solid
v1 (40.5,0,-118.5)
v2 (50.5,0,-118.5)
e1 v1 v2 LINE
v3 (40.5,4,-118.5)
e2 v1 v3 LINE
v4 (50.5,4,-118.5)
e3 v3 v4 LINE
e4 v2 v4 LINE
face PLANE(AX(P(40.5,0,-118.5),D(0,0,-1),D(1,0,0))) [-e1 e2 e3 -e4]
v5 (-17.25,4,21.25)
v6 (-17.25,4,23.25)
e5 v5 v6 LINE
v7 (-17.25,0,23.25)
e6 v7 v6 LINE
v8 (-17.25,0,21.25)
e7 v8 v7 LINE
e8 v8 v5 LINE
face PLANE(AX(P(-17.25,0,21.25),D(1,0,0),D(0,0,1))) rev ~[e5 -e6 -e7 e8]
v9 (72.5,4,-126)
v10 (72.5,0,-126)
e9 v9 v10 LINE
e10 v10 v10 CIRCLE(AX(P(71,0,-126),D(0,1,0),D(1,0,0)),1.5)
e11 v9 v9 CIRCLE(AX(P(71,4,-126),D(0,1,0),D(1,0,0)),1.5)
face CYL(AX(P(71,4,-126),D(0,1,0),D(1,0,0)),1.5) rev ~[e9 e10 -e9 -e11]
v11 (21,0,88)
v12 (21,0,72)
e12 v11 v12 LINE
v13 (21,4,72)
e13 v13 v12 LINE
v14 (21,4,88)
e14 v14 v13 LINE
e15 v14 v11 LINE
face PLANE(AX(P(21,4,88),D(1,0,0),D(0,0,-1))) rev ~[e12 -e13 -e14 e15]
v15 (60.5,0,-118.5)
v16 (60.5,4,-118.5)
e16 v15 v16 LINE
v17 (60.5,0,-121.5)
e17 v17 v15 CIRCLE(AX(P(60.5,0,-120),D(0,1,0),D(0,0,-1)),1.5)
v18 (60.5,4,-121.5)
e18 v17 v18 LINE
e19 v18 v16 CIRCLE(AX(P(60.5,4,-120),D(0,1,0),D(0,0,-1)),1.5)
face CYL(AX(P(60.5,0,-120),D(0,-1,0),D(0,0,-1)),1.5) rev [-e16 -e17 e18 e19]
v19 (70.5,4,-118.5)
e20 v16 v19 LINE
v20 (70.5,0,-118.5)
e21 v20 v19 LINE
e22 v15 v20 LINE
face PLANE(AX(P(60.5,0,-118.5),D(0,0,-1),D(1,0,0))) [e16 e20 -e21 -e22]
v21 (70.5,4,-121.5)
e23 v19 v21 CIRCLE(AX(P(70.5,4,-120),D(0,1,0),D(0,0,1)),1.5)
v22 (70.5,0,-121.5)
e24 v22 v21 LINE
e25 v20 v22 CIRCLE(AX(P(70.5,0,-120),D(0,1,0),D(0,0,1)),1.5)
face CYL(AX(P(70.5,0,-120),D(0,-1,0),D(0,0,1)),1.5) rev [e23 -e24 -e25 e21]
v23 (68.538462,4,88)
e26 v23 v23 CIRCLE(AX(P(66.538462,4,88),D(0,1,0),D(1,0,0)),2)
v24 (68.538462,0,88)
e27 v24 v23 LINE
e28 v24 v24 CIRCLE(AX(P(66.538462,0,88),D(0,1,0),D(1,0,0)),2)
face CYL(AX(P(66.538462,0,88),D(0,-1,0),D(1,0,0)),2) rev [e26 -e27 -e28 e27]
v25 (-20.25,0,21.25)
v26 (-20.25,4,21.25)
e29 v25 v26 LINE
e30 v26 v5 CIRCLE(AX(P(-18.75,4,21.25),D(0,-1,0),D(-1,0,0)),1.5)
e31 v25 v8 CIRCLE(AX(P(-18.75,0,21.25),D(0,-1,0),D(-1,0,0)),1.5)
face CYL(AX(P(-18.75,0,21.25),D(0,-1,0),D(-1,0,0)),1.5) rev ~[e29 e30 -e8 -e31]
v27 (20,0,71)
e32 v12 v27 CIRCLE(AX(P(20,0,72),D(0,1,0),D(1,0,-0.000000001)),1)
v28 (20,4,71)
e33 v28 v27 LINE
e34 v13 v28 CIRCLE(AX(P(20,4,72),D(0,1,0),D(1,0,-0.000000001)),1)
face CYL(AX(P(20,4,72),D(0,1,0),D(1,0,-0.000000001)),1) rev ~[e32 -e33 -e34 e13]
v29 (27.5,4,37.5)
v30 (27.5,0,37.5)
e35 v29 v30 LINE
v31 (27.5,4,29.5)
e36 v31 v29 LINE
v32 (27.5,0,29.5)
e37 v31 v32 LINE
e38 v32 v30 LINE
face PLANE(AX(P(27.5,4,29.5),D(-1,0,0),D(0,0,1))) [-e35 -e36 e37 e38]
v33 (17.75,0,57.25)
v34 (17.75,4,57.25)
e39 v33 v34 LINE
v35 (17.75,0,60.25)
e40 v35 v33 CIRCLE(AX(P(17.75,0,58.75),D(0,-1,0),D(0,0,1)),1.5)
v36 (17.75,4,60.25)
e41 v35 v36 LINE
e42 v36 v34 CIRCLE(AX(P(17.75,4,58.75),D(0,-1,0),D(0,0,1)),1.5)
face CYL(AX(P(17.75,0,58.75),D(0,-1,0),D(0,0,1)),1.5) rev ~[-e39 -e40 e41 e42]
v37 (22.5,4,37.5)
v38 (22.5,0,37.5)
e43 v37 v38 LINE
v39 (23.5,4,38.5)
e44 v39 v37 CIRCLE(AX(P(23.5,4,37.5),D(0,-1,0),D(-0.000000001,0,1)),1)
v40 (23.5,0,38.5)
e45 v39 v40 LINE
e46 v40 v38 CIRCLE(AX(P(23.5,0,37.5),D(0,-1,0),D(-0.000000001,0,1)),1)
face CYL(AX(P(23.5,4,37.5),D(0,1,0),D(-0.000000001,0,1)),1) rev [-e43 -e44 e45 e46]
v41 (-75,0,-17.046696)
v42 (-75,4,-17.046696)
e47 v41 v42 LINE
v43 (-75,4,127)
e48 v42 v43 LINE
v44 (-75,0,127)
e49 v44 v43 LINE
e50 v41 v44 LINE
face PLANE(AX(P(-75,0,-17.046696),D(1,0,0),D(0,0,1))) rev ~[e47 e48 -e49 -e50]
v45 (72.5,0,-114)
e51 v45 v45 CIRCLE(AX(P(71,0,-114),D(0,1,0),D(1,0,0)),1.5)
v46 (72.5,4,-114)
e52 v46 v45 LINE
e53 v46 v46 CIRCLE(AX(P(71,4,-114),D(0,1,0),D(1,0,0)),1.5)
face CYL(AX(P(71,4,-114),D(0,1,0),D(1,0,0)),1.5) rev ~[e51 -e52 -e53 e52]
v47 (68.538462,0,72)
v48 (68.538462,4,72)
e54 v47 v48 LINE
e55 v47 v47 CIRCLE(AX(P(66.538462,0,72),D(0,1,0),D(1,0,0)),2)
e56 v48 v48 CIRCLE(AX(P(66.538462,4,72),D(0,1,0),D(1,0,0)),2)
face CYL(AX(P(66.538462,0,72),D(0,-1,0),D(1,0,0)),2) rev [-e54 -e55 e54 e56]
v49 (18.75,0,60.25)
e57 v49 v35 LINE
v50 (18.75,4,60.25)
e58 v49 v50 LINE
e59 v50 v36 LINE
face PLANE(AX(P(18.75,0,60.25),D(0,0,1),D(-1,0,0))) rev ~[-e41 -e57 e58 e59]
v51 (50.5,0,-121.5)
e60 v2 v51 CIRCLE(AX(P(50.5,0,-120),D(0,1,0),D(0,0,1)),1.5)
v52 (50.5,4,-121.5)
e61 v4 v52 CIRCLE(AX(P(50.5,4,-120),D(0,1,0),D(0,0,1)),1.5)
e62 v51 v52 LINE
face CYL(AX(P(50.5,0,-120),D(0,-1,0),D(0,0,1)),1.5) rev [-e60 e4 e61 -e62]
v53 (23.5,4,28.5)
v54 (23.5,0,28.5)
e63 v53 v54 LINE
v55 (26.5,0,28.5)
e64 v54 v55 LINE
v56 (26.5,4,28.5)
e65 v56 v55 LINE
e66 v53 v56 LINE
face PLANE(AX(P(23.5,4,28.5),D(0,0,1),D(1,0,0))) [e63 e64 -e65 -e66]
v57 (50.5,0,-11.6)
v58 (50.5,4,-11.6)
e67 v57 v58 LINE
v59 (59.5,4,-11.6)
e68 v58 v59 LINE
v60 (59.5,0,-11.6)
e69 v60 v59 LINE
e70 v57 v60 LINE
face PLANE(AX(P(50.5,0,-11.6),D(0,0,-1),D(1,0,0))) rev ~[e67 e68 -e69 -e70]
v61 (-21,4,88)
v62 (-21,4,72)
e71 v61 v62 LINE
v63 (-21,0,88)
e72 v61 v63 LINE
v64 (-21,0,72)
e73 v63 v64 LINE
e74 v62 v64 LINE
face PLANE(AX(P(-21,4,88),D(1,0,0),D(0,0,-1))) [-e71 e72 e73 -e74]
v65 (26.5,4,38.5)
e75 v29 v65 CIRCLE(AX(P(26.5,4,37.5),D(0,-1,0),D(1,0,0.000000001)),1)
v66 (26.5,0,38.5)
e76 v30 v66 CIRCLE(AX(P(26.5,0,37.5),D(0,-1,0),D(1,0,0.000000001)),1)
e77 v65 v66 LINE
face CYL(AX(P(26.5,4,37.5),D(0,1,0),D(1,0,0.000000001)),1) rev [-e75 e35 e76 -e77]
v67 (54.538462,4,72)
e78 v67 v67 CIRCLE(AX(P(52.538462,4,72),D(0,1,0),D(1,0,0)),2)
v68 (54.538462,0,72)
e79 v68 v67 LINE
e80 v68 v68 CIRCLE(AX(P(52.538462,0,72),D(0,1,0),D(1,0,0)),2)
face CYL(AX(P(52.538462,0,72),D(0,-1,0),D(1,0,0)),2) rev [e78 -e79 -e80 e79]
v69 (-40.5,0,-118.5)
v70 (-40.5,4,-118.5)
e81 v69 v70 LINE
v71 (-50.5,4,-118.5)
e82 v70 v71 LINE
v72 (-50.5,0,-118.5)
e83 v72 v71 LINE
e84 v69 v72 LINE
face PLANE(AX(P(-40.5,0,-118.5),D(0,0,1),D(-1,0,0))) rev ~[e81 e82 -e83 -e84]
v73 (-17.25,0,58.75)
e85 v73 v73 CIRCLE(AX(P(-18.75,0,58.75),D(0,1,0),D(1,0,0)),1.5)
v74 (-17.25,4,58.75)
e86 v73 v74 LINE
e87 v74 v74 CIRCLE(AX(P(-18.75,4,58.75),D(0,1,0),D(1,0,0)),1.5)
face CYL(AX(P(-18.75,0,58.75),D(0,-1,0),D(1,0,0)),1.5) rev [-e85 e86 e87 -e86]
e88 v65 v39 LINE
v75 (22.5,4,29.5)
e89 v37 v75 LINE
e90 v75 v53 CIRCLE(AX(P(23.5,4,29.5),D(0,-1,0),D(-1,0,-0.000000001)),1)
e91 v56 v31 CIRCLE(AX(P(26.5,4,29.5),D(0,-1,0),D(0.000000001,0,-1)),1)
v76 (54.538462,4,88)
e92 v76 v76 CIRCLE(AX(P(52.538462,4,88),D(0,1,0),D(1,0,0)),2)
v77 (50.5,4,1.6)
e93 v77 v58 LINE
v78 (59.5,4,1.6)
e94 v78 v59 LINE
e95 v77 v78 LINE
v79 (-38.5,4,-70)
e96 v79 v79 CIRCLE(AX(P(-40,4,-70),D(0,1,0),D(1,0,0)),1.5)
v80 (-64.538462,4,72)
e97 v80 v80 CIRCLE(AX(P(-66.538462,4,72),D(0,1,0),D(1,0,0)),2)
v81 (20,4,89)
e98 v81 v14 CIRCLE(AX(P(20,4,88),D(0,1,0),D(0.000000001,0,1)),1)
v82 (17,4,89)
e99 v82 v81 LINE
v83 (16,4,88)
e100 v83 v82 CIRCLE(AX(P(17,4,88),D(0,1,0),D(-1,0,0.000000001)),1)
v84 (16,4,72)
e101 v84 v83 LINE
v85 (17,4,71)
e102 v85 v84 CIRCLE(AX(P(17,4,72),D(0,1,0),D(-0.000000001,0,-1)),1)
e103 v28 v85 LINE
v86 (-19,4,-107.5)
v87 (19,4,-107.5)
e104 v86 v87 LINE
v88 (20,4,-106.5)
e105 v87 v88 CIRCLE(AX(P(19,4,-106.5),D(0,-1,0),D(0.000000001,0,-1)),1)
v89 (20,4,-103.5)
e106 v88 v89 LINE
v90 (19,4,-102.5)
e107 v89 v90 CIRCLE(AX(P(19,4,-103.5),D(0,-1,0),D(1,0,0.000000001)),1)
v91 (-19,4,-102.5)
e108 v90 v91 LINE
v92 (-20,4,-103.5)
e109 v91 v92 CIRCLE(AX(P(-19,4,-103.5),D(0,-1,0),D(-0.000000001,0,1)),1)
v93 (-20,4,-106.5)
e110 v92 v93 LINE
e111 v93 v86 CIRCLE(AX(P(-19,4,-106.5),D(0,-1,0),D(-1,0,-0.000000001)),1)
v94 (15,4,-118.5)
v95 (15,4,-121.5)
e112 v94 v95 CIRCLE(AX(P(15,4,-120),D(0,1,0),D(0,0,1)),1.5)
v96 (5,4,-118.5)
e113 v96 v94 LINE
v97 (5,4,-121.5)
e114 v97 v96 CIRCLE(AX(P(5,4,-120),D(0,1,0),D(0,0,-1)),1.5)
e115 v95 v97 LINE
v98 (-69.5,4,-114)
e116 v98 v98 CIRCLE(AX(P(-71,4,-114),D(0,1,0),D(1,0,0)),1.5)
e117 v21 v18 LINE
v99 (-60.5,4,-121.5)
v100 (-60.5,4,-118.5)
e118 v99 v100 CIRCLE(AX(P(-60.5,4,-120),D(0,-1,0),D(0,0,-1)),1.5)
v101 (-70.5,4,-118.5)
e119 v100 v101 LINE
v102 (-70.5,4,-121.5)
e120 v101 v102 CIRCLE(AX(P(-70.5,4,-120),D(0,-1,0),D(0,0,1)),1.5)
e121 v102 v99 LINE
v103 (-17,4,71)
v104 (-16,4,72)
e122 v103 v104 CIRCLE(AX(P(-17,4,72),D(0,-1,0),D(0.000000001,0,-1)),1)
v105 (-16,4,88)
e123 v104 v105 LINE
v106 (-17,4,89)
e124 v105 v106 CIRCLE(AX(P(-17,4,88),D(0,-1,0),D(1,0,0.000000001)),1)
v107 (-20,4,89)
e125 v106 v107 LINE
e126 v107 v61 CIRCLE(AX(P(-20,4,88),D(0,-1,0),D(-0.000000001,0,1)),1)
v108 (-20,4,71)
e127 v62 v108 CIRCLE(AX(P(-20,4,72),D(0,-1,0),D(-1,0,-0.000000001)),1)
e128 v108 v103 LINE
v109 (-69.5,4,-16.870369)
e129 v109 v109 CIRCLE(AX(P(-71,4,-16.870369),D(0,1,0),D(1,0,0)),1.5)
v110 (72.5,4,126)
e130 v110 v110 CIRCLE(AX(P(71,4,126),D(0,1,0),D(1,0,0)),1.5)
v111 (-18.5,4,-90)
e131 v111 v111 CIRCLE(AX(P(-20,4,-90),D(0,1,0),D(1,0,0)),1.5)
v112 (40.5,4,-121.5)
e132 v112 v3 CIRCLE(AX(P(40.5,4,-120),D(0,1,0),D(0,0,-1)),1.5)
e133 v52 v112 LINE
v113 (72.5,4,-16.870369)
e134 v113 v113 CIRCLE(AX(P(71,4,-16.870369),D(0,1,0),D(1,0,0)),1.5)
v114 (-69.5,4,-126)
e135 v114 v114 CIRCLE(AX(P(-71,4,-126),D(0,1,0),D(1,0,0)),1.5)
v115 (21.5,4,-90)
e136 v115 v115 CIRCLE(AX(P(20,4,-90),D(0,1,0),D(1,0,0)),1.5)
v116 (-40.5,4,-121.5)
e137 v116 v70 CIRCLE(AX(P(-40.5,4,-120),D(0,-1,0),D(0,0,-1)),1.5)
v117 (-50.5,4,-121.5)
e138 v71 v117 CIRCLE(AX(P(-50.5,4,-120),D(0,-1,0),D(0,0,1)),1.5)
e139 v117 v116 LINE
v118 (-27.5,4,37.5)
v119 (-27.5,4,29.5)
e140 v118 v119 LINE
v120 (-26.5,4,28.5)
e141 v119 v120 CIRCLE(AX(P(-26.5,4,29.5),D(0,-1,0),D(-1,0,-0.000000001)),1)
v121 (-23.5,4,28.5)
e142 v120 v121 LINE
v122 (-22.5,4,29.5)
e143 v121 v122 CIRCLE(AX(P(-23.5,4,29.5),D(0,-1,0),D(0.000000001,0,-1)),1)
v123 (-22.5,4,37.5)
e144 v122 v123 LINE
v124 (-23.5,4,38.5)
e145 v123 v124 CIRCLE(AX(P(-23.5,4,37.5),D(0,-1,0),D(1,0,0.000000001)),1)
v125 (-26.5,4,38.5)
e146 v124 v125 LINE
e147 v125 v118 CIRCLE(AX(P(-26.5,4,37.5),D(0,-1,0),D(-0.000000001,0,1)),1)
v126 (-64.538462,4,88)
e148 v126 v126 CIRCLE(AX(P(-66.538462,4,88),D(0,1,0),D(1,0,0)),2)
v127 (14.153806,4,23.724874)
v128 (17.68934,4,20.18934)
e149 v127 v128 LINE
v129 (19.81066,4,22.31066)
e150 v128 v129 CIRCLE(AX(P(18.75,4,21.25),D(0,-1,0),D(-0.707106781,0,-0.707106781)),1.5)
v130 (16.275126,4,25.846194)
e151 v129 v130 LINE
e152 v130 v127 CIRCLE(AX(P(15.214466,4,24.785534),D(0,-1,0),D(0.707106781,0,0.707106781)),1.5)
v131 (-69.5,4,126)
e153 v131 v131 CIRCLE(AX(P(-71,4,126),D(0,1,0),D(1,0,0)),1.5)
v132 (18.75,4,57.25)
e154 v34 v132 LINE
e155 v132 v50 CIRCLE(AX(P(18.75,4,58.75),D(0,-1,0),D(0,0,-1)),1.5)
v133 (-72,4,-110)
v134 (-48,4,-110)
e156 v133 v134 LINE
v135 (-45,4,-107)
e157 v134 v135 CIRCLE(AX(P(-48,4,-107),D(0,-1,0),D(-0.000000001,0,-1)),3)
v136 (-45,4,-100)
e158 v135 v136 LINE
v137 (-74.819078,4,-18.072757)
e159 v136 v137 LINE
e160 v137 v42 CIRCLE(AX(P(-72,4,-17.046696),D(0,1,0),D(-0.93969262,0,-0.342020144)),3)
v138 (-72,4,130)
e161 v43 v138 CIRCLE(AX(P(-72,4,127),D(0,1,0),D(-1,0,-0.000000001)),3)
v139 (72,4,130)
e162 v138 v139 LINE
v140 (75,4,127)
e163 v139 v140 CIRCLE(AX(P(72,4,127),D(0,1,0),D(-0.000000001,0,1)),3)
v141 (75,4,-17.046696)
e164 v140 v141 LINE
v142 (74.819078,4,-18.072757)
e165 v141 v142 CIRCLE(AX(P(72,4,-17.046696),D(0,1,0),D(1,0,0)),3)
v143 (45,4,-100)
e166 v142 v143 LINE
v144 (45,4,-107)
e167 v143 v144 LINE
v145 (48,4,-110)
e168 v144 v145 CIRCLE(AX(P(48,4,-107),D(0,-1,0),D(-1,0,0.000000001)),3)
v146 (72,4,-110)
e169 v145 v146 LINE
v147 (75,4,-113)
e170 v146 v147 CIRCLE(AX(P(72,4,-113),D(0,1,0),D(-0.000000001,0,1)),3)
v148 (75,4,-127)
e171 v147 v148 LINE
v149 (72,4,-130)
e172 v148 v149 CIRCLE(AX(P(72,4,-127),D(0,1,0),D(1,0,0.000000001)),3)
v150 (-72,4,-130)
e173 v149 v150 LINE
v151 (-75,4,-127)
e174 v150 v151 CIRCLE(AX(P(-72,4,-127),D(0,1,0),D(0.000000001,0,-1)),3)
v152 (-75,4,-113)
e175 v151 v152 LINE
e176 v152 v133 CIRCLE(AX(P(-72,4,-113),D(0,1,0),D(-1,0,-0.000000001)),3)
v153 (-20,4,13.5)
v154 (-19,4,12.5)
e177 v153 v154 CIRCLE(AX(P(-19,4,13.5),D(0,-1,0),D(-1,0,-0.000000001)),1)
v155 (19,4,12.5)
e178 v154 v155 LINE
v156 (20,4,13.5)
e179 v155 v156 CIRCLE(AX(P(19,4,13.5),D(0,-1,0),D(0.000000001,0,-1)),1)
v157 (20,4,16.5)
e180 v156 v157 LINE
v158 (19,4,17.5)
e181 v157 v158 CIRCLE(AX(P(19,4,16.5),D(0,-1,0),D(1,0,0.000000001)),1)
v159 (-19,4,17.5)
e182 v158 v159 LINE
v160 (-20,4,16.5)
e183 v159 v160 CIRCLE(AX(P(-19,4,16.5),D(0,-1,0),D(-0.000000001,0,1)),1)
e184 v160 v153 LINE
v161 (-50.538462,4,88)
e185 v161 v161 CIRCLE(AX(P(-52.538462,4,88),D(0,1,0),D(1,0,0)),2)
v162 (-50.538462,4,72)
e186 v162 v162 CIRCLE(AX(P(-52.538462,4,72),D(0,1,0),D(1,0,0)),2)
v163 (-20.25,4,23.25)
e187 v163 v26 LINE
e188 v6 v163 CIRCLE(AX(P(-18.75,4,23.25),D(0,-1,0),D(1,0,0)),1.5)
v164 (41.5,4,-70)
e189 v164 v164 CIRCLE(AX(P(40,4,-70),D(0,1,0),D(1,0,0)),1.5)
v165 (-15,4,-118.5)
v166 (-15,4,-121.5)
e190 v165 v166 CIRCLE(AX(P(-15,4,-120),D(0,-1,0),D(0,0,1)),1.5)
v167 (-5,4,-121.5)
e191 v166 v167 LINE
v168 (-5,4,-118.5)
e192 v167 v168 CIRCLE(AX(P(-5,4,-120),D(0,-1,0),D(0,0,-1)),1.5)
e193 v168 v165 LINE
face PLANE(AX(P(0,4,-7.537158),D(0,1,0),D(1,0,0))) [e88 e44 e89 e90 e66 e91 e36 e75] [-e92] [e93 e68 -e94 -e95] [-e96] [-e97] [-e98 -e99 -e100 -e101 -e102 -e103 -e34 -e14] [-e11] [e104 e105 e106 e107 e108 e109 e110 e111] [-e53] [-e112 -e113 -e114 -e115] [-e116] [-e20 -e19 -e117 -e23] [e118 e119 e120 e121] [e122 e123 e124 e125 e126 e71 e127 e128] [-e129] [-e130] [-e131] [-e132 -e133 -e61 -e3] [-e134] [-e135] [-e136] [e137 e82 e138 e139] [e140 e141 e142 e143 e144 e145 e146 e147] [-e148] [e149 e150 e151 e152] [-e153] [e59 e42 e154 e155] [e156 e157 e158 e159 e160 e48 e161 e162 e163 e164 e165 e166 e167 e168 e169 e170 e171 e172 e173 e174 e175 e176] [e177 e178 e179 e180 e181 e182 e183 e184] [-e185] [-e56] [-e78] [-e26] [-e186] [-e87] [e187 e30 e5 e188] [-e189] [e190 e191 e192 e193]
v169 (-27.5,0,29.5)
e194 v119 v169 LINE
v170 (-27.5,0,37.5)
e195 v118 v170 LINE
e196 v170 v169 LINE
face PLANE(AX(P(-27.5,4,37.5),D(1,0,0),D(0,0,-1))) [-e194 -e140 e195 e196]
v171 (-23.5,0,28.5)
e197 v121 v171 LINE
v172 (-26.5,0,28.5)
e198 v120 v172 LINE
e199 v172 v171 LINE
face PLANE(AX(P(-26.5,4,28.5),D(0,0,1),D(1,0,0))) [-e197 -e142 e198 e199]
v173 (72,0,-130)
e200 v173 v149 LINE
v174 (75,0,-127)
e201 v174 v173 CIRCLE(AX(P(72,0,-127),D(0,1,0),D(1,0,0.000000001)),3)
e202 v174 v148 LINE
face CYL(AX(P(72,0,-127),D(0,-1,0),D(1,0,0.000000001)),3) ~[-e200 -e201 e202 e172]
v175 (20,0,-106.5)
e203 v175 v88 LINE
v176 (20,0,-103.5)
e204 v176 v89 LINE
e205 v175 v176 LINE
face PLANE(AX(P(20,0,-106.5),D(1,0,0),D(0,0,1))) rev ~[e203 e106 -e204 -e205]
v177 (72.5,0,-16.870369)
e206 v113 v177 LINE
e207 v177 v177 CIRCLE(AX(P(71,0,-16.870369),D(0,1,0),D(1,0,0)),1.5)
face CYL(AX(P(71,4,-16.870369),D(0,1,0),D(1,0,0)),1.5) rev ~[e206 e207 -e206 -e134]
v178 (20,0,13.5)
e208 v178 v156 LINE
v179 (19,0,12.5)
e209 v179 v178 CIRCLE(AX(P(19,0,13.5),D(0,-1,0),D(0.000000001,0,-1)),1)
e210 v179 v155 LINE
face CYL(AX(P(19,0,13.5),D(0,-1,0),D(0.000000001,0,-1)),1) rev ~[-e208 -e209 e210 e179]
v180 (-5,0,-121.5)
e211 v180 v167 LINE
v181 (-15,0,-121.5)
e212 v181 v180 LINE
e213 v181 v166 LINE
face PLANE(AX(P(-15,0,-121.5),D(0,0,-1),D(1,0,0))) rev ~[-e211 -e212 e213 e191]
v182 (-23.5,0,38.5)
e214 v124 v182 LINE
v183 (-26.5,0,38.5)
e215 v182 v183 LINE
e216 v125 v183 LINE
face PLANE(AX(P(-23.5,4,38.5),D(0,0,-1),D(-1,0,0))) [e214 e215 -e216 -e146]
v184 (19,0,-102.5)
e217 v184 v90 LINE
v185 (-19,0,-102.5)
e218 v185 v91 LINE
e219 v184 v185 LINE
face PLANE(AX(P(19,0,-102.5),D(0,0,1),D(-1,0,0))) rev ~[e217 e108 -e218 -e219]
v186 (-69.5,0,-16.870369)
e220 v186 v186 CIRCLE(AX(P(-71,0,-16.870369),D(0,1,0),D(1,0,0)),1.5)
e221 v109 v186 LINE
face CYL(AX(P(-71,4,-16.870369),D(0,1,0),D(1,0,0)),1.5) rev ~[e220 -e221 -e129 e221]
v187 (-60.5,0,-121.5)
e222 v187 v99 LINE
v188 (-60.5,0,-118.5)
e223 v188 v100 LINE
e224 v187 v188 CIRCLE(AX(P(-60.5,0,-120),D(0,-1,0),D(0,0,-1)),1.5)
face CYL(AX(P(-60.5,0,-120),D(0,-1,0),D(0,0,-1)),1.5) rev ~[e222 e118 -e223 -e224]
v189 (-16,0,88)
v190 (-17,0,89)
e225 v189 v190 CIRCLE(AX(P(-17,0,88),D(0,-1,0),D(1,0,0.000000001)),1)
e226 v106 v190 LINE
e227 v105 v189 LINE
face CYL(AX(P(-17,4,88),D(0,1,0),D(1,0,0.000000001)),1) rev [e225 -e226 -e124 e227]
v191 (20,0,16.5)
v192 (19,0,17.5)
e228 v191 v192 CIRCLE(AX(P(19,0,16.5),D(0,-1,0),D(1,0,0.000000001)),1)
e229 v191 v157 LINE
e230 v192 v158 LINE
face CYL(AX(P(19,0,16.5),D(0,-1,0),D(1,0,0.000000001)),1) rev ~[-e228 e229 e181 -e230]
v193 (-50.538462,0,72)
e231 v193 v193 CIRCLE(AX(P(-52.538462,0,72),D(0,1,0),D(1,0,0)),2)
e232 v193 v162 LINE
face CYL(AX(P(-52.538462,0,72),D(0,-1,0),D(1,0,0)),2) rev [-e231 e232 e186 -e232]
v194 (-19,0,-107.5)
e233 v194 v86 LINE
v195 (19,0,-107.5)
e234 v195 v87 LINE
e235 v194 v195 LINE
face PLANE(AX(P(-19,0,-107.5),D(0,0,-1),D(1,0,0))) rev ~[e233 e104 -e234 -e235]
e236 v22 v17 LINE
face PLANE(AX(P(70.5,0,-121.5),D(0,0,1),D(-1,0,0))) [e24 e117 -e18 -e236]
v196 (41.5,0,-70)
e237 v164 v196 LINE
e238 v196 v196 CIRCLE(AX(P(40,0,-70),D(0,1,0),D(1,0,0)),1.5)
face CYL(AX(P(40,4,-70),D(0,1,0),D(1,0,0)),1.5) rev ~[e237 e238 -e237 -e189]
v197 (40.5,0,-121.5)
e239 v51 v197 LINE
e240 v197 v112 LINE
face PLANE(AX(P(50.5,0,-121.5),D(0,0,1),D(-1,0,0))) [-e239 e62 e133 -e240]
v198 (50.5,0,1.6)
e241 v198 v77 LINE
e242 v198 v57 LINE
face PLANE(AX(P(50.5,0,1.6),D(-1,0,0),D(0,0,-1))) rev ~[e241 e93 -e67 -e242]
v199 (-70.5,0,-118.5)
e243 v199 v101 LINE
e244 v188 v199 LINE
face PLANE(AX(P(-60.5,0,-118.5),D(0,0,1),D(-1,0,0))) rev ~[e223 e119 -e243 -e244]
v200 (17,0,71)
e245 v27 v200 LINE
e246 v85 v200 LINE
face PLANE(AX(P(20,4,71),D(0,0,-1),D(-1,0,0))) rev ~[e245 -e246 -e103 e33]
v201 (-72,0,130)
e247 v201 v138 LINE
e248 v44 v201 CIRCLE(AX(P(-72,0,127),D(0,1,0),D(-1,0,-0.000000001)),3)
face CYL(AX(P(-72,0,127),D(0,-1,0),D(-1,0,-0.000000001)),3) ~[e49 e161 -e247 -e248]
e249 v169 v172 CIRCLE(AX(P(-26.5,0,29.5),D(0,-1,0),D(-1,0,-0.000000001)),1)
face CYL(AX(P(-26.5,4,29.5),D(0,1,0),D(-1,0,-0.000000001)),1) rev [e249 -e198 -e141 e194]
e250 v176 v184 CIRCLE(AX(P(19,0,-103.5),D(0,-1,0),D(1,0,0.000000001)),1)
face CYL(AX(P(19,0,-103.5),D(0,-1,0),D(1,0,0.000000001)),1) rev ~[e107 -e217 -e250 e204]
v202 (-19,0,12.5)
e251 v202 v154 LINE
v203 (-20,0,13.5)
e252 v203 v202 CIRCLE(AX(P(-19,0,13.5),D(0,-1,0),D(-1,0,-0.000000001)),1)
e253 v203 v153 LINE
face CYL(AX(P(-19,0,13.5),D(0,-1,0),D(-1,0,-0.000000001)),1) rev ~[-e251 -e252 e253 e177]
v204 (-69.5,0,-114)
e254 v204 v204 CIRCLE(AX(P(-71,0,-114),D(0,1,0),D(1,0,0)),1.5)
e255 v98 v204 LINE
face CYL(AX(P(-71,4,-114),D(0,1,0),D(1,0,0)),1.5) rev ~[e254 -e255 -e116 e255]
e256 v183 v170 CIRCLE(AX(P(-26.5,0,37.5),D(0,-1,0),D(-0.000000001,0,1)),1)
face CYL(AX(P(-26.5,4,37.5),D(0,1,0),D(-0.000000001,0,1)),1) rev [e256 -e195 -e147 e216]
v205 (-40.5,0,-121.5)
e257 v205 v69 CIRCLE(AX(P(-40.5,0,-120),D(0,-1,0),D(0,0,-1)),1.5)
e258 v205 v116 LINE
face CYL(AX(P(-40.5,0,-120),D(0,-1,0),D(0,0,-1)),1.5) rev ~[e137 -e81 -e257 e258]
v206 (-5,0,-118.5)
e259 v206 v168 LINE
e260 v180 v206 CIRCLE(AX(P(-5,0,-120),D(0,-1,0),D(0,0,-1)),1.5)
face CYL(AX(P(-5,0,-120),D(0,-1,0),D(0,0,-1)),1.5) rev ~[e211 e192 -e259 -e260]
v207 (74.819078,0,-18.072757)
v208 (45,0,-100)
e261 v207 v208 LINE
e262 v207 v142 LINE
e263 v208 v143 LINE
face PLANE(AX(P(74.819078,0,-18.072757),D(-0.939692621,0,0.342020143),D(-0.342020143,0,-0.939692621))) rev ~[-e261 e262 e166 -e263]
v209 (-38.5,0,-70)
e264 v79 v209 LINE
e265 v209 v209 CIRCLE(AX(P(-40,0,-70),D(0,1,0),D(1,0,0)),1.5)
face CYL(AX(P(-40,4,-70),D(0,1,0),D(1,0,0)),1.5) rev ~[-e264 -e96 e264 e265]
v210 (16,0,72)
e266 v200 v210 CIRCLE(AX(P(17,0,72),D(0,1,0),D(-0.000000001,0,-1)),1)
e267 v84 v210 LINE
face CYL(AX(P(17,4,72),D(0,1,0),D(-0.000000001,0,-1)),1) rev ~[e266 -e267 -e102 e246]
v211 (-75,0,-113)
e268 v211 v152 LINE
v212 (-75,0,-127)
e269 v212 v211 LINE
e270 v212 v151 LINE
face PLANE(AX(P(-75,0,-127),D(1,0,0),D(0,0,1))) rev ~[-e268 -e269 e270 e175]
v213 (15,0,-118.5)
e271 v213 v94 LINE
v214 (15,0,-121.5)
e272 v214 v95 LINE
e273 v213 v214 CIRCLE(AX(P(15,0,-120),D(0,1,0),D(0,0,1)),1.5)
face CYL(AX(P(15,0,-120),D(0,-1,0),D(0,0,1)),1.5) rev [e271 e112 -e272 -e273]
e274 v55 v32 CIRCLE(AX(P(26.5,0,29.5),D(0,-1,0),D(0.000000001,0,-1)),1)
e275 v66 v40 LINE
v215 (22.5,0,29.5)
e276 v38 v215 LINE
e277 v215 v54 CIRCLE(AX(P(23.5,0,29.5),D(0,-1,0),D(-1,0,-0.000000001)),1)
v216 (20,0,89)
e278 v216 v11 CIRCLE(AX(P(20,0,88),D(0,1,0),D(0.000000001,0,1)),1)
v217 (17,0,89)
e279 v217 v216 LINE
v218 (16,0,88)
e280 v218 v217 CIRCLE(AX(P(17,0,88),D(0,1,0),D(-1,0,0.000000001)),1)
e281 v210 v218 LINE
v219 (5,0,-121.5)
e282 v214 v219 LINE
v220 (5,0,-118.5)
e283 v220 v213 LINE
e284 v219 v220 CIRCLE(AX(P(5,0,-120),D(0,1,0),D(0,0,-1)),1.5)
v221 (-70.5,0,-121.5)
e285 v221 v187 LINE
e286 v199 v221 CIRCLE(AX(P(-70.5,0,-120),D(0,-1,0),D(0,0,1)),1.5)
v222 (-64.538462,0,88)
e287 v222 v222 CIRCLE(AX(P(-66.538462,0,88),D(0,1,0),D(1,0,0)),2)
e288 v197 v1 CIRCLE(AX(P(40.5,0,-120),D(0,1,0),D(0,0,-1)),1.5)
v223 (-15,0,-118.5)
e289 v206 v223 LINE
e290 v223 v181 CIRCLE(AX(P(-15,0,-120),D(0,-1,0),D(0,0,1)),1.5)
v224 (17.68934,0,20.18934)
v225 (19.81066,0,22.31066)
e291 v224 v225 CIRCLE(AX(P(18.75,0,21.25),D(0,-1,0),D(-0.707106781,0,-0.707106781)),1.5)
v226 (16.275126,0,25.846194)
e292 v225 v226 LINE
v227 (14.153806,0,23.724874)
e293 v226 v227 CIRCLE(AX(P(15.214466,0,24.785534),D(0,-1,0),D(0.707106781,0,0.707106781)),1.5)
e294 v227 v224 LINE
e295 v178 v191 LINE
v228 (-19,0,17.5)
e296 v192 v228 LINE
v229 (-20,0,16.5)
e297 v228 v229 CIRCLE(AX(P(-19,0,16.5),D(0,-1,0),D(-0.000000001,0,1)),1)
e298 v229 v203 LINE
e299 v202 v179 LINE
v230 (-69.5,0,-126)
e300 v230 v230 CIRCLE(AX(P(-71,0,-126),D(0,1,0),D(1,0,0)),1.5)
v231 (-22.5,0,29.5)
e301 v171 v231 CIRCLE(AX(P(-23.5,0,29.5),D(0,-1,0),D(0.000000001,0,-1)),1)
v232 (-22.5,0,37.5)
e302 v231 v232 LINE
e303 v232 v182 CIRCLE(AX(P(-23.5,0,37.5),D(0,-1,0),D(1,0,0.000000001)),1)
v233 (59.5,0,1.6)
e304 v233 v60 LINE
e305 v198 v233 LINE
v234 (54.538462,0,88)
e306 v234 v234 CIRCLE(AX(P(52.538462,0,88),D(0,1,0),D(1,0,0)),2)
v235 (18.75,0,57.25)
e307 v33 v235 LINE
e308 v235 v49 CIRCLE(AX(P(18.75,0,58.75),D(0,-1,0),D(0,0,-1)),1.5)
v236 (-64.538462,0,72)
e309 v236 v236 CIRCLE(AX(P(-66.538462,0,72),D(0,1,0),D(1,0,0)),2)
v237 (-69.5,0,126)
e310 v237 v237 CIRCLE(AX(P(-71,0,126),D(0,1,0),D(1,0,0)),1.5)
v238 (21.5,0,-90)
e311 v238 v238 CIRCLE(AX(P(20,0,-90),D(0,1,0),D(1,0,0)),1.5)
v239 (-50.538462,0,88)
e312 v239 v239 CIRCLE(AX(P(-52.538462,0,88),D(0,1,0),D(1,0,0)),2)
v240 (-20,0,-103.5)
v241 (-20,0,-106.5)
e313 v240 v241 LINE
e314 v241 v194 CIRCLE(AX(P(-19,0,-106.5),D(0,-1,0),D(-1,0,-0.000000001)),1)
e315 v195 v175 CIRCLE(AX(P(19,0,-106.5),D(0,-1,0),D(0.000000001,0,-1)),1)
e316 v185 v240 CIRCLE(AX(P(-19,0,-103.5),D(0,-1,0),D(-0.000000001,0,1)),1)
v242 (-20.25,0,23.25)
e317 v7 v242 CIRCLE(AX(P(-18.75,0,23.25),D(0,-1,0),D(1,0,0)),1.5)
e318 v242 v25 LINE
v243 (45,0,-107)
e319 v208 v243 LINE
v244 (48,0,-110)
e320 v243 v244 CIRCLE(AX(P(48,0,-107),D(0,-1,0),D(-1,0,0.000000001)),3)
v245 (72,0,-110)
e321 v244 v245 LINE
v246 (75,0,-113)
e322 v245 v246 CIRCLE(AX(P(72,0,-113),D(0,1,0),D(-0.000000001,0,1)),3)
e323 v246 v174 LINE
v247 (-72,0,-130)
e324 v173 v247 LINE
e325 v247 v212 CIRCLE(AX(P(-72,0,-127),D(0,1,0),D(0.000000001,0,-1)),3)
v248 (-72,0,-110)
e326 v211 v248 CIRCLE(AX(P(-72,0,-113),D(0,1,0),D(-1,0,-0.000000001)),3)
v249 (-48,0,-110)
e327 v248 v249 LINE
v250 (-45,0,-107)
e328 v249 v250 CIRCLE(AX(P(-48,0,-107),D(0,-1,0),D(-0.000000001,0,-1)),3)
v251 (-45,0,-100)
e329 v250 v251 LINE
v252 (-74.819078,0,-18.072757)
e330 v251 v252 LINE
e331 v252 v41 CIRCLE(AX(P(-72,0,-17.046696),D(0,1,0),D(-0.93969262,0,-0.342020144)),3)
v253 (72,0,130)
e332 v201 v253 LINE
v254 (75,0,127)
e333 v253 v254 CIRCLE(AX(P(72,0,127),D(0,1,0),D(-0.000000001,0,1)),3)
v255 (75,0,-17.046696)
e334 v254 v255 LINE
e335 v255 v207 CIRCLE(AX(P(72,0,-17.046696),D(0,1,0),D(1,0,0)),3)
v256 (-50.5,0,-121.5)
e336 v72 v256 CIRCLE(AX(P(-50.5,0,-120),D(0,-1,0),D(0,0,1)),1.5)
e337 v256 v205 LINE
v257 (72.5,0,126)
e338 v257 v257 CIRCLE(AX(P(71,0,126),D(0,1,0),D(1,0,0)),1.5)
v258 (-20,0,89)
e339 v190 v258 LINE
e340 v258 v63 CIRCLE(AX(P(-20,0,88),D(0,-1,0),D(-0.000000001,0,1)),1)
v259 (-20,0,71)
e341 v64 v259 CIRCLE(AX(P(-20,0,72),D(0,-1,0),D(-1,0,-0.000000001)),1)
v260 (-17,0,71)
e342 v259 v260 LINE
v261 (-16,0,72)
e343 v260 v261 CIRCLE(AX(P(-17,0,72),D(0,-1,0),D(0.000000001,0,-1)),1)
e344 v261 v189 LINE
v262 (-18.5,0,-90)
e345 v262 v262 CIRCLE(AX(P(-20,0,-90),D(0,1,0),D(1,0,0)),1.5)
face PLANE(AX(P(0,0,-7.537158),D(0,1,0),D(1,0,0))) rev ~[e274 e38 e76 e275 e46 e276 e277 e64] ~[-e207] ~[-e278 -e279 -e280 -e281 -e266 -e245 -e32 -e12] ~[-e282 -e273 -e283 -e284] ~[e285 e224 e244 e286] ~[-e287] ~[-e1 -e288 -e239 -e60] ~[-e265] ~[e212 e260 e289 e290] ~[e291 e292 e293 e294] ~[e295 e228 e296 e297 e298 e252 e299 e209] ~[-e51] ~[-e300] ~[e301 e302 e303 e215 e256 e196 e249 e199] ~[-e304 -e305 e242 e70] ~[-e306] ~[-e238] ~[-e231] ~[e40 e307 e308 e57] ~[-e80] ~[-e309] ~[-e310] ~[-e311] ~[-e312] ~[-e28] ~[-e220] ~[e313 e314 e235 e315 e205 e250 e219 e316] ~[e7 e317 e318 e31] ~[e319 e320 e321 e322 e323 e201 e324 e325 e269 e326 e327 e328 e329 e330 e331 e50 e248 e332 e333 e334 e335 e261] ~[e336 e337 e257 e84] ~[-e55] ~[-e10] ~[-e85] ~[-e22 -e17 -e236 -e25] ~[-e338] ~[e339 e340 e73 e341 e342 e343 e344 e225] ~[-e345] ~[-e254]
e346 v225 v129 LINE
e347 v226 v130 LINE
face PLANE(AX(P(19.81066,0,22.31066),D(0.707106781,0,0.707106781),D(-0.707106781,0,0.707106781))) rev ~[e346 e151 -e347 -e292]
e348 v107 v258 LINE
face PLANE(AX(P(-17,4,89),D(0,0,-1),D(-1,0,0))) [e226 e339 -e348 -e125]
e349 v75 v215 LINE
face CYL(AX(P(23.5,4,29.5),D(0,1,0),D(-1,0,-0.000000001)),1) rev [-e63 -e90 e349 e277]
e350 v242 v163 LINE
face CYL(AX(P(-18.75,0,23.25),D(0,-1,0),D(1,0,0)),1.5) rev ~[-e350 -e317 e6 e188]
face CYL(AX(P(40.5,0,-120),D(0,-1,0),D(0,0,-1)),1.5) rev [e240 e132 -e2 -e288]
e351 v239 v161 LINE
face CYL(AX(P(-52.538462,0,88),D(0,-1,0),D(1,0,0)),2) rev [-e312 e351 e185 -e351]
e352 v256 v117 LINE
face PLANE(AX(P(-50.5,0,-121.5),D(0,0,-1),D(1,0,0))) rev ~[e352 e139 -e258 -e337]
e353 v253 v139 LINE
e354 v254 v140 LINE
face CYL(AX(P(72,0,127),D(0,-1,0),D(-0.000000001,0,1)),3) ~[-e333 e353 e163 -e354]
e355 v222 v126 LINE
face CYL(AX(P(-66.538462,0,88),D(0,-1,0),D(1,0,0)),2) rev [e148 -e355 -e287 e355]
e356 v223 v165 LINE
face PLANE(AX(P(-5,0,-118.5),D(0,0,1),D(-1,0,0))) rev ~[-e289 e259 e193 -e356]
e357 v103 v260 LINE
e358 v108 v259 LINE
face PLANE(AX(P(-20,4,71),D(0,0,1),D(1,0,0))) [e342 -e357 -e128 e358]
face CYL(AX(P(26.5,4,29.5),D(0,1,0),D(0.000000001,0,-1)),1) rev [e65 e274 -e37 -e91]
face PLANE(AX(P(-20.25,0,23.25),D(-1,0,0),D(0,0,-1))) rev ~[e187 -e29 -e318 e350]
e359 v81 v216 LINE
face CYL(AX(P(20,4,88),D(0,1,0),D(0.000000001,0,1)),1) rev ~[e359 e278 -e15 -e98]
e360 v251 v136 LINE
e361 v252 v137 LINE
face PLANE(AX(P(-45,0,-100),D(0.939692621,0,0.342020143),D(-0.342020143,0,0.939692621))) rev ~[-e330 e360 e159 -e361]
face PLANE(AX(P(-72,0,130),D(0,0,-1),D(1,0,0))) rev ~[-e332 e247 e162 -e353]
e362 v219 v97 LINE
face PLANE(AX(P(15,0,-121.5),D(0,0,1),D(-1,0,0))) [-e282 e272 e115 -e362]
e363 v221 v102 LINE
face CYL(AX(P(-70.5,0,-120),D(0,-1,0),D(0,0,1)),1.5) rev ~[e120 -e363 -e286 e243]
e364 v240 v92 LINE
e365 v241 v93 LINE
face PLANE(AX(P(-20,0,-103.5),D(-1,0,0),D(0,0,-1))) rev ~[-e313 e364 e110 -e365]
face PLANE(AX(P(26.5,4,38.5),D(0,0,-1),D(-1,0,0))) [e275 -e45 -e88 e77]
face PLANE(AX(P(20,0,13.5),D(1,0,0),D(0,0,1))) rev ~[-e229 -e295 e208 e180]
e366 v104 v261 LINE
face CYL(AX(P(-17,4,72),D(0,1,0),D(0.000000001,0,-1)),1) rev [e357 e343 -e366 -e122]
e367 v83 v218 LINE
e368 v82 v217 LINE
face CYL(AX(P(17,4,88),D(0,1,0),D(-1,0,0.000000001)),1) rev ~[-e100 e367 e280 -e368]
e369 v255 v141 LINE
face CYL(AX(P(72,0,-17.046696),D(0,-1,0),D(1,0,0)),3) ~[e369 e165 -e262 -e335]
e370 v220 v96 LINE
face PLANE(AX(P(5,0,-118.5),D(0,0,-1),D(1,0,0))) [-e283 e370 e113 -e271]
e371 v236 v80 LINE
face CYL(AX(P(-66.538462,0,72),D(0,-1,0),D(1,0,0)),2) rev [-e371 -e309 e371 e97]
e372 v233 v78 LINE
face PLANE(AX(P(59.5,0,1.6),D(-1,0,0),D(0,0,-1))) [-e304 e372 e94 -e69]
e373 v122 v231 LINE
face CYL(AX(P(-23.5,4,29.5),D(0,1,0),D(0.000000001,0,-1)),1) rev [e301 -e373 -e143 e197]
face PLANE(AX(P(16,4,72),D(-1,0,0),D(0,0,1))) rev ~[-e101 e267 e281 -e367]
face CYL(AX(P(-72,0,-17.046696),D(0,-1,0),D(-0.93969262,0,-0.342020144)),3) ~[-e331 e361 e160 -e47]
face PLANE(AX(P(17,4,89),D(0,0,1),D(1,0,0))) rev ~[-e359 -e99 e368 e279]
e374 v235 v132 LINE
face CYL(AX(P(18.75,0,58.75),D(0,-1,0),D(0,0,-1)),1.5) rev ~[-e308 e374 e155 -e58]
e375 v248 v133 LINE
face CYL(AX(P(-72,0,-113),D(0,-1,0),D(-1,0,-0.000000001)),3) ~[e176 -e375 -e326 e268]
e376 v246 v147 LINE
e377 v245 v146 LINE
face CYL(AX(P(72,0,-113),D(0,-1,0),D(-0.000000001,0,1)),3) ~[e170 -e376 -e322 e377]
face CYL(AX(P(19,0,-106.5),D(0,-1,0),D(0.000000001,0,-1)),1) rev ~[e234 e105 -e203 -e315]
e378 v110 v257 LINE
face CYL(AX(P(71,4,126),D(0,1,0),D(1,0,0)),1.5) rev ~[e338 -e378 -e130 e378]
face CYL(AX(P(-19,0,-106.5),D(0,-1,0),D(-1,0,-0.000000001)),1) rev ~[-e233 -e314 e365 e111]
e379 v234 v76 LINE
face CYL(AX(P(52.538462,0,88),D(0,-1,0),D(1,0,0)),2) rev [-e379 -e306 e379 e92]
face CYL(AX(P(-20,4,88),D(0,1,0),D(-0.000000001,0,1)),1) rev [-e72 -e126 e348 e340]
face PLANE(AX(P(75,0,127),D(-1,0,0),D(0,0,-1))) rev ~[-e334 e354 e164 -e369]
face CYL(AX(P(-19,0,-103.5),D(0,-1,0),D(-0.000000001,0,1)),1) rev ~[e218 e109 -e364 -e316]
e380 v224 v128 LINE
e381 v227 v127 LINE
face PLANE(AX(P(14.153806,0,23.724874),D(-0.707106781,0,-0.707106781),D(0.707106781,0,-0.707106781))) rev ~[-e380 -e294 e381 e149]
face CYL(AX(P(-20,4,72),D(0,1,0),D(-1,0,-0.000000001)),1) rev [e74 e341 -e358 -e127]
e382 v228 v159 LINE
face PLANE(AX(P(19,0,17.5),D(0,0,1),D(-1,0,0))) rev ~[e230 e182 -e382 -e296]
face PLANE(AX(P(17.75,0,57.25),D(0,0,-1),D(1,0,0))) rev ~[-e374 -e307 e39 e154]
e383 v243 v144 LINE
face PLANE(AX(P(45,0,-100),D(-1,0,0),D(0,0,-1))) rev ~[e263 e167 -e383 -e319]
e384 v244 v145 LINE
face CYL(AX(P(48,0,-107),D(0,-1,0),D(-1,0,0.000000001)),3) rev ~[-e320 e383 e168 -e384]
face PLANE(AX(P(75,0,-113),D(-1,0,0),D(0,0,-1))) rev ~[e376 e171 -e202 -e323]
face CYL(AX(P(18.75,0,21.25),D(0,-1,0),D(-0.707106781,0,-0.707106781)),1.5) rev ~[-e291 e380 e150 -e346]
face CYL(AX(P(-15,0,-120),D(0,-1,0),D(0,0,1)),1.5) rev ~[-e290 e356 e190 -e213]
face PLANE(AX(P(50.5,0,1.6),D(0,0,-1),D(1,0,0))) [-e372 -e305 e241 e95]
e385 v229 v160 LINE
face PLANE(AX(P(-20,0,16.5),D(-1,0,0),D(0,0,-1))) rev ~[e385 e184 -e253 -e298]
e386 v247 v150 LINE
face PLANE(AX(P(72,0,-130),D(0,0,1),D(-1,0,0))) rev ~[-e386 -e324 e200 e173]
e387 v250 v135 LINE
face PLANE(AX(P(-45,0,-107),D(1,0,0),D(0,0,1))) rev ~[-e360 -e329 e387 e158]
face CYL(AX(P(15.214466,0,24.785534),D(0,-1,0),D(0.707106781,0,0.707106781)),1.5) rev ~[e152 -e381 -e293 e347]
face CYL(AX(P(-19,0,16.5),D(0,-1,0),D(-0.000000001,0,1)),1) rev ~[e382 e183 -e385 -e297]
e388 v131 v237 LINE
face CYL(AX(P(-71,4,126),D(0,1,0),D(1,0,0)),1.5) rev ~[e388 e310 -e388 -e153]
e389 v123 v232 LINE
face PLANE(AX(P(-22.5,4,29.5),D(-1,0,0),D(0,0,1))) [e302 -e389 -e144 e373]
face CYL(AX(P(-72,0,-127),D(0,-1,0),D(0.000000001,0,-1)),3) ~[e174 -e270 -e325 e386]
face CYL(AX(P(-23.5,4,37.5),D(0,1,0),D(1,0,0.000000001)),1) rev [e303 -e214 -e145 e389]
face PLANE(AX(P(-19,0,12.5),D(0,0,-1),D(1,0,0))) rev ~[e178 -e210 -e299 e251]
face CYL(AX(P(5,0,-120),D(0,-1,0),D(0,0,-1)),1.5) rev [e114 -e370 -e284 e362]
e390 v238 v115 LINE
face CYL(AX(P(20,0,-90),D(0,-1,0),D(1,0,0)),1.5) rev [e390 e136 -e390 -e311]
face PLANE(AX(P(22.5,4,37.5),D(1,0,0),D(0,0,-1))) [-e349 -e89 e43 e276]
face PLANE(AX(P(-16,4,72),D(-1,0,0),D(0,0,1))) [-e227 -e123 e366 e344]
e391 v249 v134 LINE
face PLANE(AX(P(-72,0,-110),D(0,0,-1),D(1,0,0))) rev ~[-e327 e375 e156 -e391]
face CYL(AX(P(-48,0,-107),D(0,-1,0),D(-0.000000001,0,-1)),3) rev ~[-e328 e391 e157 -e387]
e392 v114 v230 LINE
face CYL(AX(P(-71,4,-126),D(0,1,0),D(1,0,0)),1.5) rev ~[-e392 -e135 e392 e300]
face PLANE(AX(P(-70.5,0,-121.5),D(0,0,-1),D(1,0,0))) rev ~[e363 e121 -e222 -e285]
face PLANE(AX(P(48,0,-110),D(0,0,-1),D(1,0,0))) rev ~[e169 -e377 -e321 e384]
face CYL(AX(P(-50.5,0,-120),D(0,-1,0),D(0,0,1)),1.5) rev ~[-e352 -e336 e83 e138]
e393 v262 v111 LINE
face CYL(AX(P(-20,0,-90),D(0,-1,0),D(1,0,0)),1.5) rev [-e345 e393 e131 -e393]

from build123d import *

# Parameters (mm, degrees)
SKETCH1_R           = 1.5
SKETCH1_R_2         = 2
SKETCH1_W           = 9
SKETCH1_H           = 13.2
BOSS_EXTRUDE1_DEPTH = 4
SKETCH2_R           = 1.5
CUT_EXTRUDE1_DEPTH  = 4


with BuildPart() as part:
    # Sketch1 → Boss-Extrude1 (new body)
    with BuildSketch(Plane(origin=(0, 0, 0), x_dir=(1, 0, 0), z_dir=(0, 1, 0))):
        with BuildLine():
            Line((-72, 110), (-48, 110))
            ThreePointArc((-48, 110), (-45.878679656, 109.121320344), (-45, 107))
            Line((-45, 107), (-45, 100))
            Line((-45, 100), (-74.819077862, 18.072756904))
            ThreePointArc((-74.819077862, 18.072756904), (-74.954423259, 17.567641007), (-75, 17.046696474))
            Line((-75, 17.046696474), (-75, -127))
            ThreePointArc((-75, -127), (-74.121320344, -129.121320344), (-72, -130))
            Line((-72, -130), (72, -130))
            ThreePointArc((72, -130), (74.121320344, -129.121320344), (75, -127))
            Line((75, -127), (75, 17.046696474))
            ThreePointArc((75, 17.046696474), (74.954423259, 17.567641007), (74.819077862, 18.072756904))
            Line((74.819077862, 18.072756904), (45, 100))
            Line((45, 100), (45, 107))
            ThreePointArc((45, 107), (45.878679656, 109.121320344), (48, 110))
            Line((48, 110), (72, 110))
            ThreePointArc((72, 110), (74.121320344, 110.878679656), (75, 113))
            Line((75, 113), (75, 127))
            ThreePointArc((75, 127), (74.121320344, 129.121320344), (72, 130))
            Line((72, 130), (-72, 130))
            ThreePointArc((-72, 130), (-74.121320344, 129.121320344), (-75, 127))
            Line((-75, 127), (-75, 113))
            ThreePointArc((-75, 113), (-74.121320344, 110.878679656), (-72, 110))
        make_face()
        with Locations((20, 90)):
            Circle(SKETCH1_R, mode=Mode.SUBTRACT)
        with Locations((-20, 90)):
            Circle(SKETCH1_R, mode=Mode.SUBTRACT)
        with Locations((-66.538461538, -72)):
            Circle(SKETCH1_R_2, mode=Mode.SUBTRACT)
        with Locations((-66.538461538, -88)):
            Circle(SKETCH1_R_2, mode=Mode.SUBTRACT)
        with Locations((-52.538461538, -72)):
            Circle(SKETCH1_R_2, mode=Mode.SUBTRACT)
        with Locations((-52.538461538, -88)):
            Circle(SKETCH1_R_2, mode=Mode.SUBTRACT)
        with Locations((52.538461538, -88)):
            Circle(SKETCH1_R_2, mode=Mode.SUBTRACT)
        with Locations((66.538461538, -88)):
            Circle(SKETCH1_R_2, mode=Mode.SUBTRACT)
        with Locations((66.538461538, -72)):
            Circle(SKETCH1_R_2, mode=Mode.SUBTRACT)
        with Locations((52.538461538, -72)):
            Circle(SKETCH1_R_2, mode=Mode.SUBTRACT)
        with Locations((-18.75, -58.75)):
            Circle(SKETCH1_R, mode=Mode.SUBTRACT)
        with BuildLine():
            Line((-70.5, 121.5), (-60.5, 121.5))
            ThreePointArc((-60.5, 121.5), (-59, 120), (-60.5, 118.5))
            Line((-60.5, 118.5), (-70.5, 118.5))
            ThreePointArc((-70.5, 118.5), (-72, 120), (-70.5, 121.5))
        make_face(mode=Mode.SUBTRACT)
        with BuildLine():
            Line((-19, -12.5), (19, -12.5))
            ThreePointArc((19, -12.5), (19.707106781, -12.792893219), (20, -13.5))
            Line((20, -13.5), (20, -16.5))
            ThreePointArc((20, -16.5), (19.707106781, -17.207106781), (19, -17.5))
            Line((19, -17.5), (-19, -17.5))
            ThreePointArc((-19, -17.5), (-19.707106781, -17.207106781), (-20, -16.5))
            Line((-20, -16.5), (-20, -13.5))
            ThreePointArc((-20, -13.5), (-19.707106781, -12.792893219), (-19, -12.5))
        make_face(mode=Mode.SUBTRACT)
        with BuildLine():
            Line((-15, 121.5), (-5, 121.5))
            ThreePointArc((-5, 121.5), (-3.5, 120), (-5, 118.5))
            Line((-5, 118.5), (-15, 118.5))
            ThreePointArc((-15, 118.5), (-16.5, 120), (-15, 121.5))
        make_face(mode=Mode.SUBTRACT)
        with Locations((55, 5)):
            Rectangle(SKETCH1_W, SKETCH1_H, mode=Mode.SUBTRACT)
        with BuildLine():
            Line((-50.5, 121.5), (-40.5, 121.5))
            ThreePointArc((-40.5, 121.5), (-39, 120), (-40.5, 118.5))
            Line((-40.5, 118.5), (-50.5, 118.5))
            ThreePointArc((-50.5, 118.5), (-52, 120), (-50.5, 121.5))
        make_face(mode=Mode.SUBTRACT)
        with BuildLine():
            Line((5, 118.5), (15, 118.5))
            ThreePointArc((15, 118.5), (16.5, 120), (15, 121.5))
            Line((15, 121.5), (5, 121.5))
            ThreePointArc((5, 121.5), (3.5, 120), (5, 118.5))
        make_face(mode=Mode.SUBTRACT)
        with BuildLine():
            Line((19, 102.5), (-19, 102.5))
            ThreePointArc((-19, 102.5), (-19.707106781, 102.792893219), (-20, 103.5))
            Line((-20, 103.5), (-20, 106.5))
            ThreePointArc((-20, 106.5), (-19.707106781, 107.207106781), (-19, 107.5))
            Line((-19, 107.5), (19, 107.5))
            ThreePointArc((19, 107.5), (19.707106781, 107.207106781), (20, 106.5))
            Line((20, 106.5), (20, 103.5))
            ThreePointArc((20, 103.5), (19.707106781, 102.792893219), (19, 102.5))
        make_face(mode=Mode.SUBTRACT)
        with BuildLine():
            Line((-17.25, -21.25), (-17.25, -23.25))
            ThreePointArc((-17.25, -23.25), (-18.75, -24.75), (-20.25, -23.25))
            Line((-20.25, -23.25), (-20.25, -21.25))
            ThreePointArc((-20.25, -21.25), (-18.75, -19.75), (-17.25, -21.25))
        make_face(mode=Mode.SUBTRACT)
        with BuildLine():
            Line((18.75, -60.25), (17.75, -60.25))
            ThreePointArc((17.75, -60.25), (16.25, -58.75), (17.75, -57.25))
            Line((17.75, -57.25), (18.75, -57.25))
            ThreePointArc((18.75, -57.25), (20.25, -58.75), (18.75, -60.25))
        make_face(mode=Mode.SUBTRACT)
        with BuildLine():
            Line((19.810660172, -22.310660172), (16.275126266, -25.846194078))
            ThreePointArc((16.275126266, -25.846194078), (14.153805922, -25.846194078), (14.153805922, -23.724873734))
            Line((14.153805922, -23.724873734), (17.689339828, -20.189339828))
            ThreePointArc((17.689339828, -20.189339828), (19.810660172, -20.189339828), (19.810660172, -22.310660172))
        make_face(mode=Mode.SUBTRACT)
        with BuildLine():
            Line((50.5, 121.5), (40.5, 121.5))
            ThreePointArc((40.5, 121.5), (39, 120), (40.5, 118.5))
            Line((40.5, 118.5), (50.5, 118.5))
            ThreePointArc((50.5, 118.5), (52, 120), (50.5, 121.5))
        make_face(mode=Mode.SUBTRACT)
        with BuildLine():
            Line((60.5, 118.5), (70.5, 118.5))
            ThreePointArc((70.5, 118.5), (72, 120), (70.5, 121.5))
            Line((70.5, 121.5), (60.5, 121.5))
            ThreePointArc((60.5, 121.5), (59, 120), (60.5, 118.5))
        make_face(mode=Mode.SUBTRACT)
    extrude(amount=BOSS_EXTRUDE1_DEPTH)

    # Sketch2 → Cut-Extrude1 (cut)
    with BuildSketch(Plane(origin=(0, 4, 0), x_dir=(1, 0, 0), z_dir=(0, 1, 0))):
        with Locations((-71, -126)):
            Circle(SKETCH2_R)
        with Locations((-71, 16.870369494)):
            Circle(SKETCH2_R)
        with Locations((-71, 114)):
            Circle(SKETCH2_R)
        with Locations((-71, 126)):
            Circle(SKETCH2_R)
        with Locations((71, 16.870369494)):
            Circle(SKETCH2_R)
        with Locations((71, -126)):
            Circle(SKETCH2_R)
        with Locations((71, 114)):
            Circle(SKETCH2_R)
        with Locations((71, 126)):
            Circle(SKETCH2_R)
        with Locations((-40, 70)):
            Circle(SKETCH2_R)
        with Locations((40, 70)):
            Circle(SKETCH2_R)
        with BuildLine():
            Line((-20, -71), (-17, -71))
            ThreePointArc((-17, -71), (-16.292893219, -71.292893219), (-16, -72))
            Line((-16, -72), (-16, -88))
            ThreePointArc((-16, -88), (-16.292893219, -88.707106781), (-17, -89))
            Line((-17, -89), (-20, -89))
            ThreePointArc((-20, -89), (-20.707106781, -88.707106781), (-21, -88))
            Line((-21, -88), (-21, -72))
            ThreePointArc((-21, -72), (-20.707106781, -71.292893219), (-20, -71))
        make_face()
        with BuildLine():
            Line((-26.5, -28.5), (-23.5, -28.5))
            ThreePointArc((-23.5, -28.5), (-22.792893219, -28.792893219), (-22.5, -29.5))
            Line((-22.5, -29.5), (-22.5, -37.5))
            ThreePointArc((-22.5, -37.5), (-22.792893219, -38.207106781), (-23.5, -38.5))
            Line((-23.5, -38.5), (-26.5, -38.5))
            ThreePointArc((-26.5, -38.5), (-27.207106781, -38.207106781), (-27.5, -37.5))
            Line((-27.5, -37.5), (-27.5, -29.5))
            ThreePointArc((-27.5, -29.5), (-27.207106781, -28.792893219), (-26.5, -28.5))
        make_face()
        with BuildLine():
            Line((26.5, -38.5), (23.5, -38.5))
            ThreePointArc((23.5, -38.5), (22.792893219, -38.207106781), (22.5, -37.5))
            Line((22.5, -37.5), (22.5, -29.5))
            ThreePointArc((22.5, -29.5), (22.792893219, -28.792893219), (23.5, -28.5))
            Line((23.5, -28.5), (26.5, -28.5))
            ThreePointArc((26.5, -28.5), (27.207106781, -28.792893219), (27.5, -29.5))
            Line((27.5, -29.5), (27.5, -37.5))
            ThreePointArc((27.5, -37.5), (27.207106781, -38.207106781), (26.5, -38.5))
        make_face()
        with BuildLine():
            Line((16, -72), (16, -88))
            ThreePointArc((16, -88), (16.292893219, -88.707106781), (17, -89))
            Line((17, -89), (20, -89))
            ThreePointArc((20, -89), (20.707106781, -88.707106781), (21, -88))
            Line((21, -88), (21, -72))
            ThreePointArc((21, -72), (20.707106781, -71.292893219), (20, -71))
            Line((20, -71), (17, -71))
            ThreePointArc((17, -71), (16.292893219, -71.292893219), (16, -72))
        make_face()
    extrude(amount=-CUT_EXTRUDE1_DEPTH, mode=Mode.SUBTRACT)


solid = part.part
